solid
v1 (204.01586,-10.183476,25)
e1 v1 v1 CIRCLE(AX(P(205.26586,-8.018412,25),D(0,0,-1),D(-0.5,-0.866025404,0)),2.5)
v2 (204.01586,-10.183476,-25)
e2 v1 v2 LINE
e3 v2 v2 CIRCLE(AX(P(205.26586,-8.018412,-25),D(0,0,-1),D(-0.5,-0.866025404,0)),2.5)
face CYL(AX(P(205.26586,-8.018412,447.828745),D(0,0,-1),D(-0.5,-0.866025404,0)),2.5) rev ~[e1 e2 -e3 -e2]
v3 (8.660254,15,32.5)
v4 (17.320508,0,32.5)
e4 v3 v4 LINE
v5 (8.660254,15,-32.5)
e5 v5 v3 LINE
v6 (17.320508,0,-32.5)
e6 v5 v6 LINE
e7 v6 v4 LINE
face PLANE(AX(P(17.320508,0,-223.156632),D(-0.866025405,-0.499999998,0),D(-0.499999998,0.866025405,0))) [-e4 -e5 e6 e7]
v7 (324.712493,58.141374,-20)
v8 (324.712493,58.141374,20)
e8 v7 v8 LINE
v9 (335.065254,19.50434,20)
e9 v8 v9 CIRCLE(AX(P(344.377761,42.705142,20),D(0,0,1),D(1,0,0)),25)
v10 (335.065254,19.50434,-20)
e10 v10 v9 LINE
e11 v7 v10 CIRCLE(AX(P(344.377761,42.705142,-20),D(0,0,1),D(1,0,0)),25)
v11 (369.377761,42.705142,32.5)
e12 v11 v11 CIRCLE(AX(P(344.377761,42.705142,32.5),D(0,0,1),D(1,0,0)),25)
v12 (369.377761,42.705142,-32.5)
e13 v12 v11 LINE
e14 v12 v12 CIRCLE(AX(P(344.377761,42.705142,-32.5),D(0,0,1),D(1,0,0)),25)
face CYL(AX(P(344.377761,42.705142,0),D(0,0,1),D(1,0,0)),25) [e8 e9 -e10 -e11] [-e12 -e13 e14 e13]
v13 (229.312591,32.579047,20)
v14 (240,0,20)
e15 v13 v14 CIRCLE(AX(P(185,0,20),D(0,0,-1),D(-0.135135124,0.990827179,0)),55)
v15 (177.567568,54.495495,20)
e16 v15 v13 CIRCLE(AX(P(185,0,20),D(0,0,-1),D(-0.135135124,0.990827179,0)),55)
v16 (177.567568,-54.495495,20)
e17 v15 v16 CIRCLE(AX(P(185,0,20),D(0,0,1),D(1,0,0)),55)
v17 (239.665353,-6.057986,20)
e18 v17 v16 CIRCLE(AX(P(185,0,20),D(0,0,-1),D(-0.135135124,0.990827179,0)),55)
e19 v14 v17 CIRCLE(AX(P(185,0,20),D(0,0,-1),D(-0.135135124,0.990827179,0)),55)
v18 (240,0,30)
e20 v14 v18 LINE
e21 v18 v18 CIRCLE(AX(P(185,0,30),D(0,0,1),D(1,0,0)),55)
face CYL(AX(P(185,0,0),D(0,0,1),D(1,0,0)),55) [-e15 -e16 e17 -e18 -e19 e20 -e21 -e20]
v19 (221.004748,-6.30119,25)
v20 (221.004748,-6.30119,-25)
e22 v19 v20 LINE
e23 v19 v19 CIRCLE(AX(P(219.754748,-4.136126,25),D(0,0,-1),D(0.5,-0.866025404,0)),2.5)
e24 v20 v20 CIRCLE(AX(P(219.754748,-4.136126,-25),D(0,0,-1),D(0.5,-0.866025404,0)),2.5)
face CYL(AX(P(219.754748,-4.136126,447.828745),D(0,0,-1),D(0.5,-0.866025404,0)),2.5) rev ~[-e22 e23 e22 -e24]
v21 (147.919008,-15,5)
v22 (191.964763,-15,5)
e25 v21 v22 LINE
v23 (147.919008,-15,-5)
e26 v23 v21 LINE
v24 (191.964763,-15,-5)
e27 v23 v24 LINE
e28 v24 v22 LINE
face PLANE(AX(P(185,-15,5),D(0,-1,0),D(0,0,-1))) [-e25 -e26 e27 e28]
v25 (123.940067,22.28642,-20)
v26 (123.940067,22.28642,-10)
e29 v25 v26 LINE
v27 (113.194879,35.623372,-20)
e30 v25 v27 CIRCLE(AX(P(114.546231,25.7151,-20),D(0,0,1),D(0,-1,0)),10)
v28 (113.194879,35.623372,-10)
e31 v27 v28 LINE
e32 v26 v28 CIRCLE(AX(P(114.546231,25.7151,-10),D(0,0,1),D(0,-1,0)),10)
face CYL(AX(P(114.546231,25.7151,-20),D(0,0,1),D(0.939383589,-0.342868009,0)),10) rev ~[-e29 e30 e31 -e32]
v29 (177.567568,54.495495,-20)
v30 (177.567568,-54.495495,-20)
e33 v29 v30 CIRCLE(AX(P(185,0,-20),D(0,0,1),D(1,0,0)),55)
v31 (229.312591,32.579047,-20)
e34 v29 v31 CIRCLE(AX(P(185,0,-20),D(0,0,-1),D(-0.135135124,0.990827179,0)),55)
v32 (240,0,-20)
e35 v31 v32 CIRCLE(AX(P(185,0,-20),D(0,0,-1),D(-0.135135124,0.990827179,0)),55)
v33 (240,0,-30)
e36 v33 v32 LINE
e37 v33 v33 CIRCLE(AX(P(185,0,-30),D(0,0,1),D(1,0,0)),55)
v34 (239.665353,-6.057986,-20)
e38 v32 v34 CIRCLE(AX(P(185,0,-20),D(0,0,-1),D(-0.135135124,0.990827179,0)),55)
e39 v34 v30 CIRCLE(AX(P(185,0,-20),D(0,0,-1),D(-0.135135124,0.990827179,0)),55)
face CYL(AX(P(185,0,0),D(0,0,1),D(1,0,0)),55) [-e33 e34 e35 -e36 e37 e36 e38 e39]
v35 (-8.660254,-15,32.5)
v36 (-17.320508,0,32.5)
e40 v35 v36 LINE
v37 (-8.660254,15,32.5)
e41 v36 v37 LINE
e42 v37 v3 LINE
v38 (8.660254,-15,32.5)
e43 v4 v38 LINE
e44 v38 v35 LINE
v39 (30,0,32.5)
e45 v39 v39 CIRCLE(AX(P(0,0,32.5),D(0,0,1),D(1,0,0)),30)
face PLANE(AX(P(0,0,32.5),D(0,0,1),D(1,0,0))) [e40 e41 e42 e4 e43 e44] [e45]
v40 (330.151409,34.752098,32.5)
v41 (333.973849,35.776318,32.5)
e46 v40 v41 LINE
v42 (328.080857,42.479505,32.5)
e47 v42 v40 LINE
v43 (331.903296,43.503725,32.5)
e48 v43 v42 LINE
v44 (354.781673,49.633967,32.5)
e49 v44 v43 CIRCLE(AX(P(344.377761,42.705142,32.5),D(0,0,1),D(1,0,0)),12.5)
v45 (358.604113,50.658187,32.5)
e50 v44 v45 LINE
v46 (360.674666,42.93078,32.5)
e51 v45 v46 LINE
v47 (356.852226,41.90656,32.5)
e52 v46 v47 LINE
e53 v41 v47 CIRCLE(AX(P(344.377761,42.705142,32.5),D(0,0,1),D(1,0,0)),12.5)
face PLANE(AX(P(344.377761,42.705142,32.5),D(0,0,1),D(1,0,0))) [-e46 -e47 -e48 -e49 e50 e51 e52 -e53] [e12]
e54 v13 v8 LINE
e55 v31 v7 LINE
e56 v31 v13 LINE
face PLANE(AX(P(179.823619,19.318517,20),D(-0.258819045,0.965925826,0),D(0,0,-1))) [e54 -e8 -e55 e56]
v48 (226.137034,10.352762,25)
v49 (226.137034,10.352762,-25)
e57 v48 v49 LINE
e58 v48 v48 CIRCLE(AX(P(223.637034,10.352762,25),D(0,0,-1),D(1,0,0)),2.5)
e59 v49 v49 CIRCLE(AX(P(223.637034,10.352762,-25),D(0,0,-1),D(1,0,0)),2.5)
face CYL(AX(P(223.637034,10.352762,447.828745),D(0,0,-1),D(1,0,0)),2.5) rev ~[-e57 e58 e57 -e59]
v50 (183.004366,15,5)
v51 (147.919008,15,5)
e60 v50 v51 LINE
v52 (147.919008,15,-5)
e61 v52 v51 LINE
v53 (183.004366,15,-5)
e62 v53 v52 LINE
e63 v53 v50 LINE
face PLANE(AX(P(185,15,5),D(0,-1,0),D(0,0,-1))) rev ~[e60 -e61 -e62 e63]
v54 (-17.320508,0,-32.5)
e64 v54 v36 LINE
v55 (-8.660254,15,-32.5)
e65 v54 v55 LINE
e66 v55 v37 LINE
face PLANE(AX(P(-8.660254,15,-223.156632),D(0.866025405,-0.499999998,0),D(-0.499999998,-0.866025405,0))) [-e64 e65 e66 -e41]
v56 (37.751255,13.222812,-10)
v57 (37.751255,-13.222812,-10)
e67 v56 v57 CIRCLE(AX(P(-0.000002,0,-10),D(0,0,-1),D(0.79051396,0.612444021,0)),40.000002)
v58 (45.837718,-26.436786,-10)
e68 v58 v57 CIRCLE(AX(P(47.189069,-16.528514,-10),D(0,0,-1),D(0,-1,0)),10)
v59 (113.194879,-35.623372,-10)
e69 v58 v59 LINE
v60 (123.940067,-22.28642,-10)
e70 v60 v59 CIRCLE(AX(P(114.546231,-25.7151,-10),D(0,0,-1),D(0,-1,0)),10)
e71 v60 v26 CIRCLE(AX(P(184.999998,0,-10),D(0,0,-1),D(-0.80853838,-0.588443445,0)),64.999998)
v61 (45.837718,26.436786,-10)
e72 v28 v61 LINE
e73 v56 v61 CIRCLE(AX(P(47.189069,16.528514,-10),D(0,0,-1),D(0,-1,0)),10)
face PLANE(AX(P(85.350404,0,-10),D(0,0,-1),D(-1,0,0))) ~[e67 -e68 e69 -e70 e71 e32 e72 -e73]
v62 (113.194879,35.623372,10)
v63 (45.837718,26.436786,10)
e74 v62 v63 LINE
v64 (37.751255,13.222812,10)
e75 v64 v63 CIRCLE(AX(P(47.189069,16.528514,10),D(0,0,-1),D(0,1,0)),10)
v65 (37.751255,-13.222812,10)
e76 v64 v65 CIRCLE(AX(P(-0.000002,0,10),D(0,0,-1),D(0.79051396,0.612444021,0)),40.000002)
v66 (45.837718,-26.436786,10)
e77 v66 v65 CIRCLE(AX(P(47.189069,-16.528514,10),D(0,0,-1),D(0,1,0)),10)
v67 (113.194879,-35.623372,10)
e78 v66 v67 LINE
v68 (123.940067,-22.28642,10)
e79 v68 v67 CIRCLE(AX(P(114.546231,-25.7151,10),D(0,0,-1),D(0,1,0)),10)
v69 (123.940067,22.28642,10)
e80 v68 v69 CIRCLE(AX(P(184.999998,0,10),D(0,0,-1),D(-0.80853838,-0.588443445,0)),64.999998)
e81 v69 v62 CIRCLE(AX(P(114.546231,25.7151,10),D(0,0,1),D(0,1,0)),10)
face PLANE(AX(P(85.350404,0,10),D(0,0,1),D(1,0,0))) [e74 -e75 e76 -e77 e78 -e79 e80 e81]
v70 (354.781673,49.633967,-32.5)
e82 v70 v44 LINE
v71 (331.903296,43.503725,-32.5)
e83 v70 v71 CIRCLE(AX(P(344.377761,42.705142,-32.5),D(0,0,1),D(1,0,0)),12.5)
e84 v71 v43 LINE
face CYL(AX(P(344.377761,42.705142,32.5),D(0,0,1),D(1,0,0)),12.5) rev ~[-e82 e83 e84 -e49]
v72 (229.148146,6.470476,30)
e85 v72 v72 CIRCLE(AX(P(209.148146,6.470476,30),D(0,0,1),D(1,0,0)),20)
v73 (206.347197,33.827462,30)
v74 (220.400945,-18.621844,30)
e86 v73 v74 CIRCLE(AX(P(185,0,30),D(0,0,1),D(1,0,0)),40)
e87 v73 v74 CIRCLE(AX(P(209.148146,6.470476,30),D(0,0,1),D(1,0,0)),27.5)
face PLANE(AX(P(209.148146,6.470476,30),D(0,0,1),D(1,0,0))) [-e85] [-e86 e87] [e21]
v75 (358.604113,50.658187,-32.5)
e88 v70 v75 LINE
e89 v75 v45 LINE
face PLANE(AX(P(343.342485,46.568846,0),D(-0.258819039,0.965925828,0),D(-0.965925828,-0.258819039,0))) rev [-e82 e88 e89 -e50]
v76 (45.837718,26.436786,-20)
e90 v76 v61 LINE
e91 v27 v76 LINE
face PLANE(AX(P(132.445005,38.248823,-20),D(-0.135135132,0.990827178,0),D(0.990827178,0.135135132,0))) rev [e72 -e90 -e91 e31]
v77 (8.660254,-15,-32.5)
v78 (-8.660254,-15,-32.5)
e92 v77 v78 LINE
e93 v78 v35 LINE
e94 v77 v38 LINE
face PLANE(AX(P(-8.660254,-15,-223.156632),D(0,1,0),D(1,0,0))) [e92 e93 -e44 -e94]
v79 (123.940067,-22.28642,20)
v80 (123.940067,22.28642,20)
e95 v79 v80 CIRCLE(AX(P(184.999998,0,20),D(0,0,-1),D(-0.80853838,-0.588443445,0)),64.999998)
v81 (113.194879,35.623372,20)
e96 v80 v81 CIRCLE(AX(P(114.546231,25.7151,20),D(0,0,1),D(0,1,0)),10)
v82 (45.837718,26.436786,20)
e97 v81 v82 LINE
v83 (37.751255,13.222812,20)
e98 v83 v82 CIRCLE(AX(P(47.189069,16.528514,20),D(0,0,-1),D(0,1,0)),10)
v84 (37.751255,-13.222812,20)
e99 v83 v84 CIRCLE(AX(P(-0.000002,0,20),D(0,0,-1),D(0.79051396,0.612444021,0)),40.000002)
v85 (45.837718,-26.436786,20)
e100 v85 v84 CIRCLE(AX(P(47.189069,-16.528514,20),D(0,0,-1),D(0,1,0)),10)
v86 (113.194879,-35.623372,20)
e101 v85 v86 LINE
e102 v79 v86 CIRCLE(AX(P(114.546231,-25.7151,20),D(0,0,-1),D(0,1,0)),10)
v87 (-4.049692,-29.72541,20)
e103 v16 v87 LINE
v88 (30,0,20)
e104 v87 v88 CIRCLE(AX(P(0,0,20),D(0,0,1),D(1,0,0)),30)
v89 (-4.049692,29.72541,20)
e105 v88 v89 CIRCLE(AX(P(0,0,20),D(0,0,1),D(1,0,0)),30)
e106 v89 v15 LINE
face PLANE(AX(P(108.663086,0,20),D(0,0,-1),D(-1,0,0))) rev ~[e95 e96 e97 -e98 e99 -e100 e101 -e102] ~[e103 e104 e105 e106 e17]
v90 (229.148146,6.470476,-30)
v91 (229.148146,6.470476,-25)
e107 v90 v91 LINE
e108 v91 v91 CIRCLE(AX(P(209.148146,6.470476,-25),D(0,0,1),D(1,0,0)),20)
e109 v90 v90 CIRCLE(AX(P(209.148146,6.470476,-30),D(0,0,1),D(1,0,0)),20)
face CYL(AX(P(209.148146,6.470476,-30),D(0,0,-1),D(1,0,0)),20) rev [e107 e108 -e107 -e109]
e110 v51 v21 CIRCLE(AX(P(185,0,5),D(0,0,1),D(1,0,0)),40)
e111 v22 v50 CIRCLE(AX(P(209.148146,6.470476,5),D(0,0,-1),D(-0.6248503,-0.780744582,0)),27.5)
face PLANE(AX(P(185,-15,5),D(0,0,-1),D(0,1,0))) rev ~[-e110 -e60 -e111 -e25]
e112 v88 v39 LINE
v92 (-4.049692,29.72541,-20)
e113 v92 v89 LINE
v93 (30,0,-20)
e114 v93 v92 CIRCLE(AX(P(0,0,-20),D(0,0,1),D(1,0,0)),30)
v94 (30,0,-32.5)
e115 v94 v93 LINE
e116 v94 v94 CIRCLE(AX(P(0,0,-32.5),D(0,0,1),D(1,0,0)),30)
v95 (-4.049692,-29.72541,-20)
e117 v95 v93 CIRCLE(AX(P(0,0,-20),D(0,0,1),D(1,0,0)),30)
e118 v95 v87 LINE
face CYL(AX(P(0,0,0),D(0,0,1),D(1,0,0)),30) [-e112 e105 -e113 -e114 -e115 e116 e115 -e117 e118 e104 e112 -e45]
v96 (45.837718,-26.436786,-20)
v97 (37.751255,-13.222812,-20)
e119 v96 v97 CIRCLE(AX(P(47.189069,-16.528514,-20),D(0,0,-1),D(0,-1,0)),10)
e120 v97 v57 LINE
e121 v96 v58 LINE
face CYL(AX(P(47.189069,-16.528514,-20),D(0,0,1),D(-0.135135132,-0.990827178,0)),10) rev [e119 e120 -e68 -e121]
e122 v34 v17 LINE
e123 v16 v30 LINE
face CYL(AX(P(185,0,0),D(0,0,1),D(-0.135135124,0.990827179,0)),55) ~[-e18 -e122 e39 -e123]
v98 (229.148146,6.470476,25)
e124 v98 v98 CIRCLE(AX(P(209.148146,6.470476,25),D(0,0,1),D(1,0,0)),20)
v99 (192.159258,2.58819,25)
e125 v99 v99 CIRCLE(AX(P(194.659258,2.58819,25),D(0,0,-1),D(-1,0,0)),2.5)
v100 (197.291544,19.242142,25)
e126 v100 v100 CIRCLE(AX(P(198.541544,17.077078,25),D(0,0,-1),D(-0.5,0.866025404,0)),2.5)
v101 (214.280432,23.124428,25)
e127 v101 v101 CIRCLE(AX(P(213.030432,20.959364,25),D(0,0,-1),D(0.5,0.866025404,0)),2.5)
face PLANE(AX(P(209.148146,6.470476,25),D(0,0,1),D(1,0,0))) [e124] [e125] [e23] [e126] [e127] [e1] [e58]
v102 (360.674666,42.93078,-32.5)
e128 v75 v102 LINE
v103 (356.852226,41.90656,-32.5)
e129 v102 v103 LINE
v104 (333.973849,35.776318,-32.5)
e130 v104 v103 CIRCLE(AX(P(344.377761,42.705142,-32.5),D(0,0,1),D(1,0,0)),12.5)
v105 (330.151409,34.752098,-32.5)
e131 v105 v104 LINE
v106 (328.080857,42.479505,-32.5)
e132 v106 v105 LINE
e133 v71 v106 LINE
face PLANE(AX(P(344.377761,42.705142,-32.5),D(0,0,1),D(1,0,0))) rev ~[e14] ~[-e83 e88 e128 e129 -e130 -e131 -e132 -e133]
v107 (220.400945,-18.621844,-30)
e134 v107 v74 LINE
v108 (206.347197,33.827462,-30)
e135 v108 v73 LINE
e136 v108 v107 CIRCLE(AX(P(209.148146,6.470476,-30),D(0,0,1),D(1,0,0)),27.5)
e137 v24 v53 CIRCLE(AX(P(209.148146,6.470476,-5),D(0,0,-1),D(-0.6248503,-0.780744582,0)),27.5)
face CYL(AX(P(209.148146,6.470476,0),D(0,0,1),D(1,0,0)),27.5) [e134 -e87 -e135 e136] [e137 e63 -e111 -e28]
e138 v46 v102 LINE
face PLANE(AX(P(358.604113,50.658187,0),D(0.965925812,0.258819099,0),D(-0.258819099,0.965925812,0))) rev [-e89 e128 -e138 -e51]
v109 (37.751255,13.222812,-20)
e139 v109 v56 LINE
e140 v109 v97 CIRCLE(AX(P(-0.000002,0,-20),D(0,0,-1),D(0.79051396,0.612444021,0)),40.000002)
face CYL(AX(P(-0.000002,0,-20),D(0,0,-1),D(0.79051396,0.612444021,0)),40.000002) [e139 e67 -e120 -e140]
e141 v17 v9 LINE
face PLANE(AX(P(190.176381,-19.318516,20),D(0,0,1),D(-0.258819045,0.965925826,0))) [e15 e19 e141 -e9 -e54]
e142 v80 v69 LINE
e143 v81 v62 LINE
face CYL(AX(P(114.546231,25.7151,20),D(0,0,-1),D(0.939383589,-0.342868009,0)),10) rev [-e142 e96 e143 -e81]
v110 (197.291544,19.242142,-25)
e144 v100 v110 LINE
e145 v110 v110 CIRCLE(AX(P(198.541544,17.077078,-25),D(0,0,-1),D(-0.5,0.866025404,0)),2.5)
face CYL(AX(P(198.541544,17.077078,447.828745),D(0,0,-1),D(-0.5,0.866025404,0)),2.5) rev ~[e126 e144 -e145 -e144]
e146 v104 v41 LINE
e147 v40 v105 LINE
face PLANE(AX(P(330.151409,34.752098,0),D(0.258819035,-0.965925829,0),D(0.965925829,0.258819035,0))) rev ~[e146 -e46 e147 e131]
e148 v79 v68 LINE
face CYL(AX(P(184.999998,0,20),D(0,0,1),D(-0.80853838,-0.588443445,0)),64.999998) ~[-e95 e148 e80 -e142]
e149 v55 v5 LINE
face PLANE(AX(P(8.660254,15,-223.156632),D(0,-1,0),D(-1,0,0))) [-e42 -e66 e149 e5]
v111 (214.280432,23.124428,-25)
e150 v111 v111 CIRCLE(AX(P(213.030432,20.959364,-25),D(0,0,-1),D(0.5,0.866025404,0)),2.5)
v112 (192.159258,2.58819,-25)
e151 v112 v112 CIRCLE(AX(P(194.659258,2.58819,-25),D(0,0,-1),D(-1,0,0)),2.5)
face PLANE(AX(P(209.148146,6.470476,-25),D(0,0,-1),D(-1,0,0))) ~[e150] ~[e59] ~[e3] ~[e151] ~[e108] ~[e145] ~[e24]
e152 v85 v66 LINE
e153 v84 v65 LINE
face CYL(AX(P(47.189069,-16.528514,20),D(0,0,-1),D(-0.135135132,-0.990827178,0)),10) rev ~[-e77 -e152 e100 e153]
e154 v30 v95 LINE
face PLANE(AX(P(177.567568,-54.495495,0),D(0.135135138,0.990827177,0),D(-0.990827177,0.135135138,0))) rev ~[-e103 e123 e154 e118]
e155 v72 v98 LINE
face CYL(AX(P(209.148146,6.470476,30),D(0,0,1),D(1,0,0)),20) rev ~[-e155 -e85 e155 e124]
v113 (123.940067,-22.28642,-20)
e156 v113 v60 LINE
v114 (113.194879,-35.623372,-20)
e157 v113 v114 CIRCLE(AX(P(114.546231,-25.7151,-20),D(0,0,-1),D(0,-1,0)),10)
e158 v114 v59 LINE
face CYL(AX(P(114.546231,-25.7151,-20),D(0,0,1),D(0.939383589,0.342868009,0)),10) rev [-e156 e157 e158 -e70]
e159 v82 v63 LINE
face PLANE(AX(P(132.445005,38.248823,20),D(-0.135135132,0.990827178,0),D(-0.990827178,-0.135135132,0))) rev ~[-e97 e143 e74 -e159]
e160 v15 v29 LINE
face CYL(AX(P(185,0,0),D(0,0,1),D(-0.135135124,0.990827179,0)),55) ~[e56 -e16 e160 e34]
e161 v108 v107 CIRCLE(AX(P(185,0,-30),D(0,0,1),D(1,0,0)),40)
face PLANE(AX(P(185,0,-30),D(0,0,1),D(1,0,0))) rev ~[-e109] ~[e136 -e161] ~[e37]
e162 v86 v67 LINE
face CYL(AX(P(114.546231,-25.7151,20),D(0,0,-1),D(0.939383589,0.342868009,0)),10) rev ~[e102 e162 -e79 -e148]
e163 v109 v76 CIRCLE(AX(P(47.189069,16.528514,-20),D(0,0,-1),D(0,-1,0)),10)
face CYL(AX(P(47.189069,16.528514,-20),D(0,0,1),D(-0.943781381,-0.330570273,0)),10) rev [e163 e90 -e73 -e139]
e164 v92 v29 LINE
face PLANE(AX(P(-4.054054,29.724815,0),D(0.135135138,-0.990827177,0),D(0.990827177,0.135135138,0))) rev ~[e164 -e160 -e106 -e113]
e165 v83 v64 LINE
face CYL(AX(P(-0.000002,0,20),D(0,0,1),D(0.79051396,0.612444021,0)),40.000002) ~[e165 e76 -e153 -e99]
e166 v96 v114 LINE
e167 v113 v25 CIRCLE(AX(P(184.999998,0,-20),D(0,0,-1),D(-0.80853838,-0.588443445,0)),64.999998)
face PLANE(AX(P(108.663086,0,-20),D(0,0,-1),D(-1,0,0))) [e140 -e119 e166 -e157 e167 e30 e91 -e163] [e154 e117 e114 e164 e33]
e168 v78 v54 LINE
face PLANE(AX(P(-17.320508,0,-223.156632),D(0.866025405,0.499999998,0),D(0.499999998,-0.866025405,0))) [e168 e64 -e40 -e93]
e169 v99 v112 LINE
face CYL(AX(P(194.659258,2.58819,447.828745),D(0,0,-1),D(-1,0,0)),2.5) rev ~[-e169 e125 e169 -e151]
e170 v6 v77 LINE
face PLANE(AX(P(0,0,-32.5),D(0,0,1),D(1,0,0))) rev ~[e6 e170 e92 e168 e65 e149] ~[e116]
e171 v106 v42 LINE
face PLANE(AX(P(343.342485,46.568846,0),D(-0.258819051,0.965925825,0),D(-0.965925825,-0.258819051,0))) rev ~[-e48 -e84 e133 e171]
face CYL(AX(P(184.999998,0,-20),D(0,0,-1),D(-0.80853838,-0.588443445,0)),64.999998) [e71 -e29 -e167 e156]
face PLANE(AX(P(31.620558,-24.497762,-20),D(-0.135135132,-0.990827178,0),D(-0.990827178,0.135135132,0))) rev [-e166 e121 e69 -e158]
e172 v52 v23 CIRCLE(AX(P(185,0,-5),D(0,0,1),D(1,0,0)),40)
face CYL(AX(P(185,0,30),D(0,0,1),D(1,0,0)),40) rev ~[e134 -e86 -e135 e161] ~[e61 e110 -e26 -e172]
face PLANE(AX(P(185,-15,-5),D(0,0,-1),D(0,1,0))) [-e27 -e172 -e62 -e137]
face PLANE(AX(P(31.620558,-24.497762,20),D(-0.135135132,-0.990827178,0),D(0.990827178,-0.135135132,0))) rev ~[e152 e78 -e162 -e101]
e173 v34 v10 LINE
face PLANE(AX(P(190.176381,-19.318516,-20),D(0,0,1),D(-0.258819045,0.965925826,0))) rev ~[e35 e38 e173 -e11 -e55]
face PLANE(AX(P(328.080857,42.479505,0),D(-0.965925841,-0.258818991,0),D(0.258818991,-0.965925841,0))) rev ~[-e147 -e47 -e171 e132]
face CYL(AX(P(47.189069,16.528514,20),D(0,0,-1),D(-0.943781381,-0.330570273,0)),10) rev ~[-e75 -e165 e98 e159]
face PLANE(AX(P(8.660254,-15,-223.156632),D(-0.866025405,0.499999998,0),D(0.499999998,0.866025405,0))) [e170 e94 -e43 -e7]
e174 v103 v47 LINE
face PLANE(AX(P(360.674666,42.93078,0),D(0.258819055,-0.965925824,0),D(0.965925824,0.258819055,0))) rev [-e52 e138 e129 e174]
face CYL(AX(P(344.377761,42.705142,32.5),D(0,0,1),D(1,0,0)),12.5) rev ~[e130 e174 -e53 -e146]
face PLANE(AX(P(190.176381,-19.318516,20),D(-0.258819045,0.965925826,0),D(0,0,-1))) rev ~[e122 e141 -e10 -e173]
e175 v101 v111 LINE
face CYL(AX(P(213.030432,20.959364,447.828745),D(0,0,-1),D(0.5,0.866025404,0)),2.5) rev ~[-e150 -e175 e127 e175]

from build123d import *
from build123d.topology import SkipClean

# Parameters (mm, degrees)
LEFT_ARM_DEPTH                = 20
SKETCH2_R                     = 30
LEFT_BOSS_DEPTH               = 32.5
LEFT_HEX_DEPTH                = 255.656632
LEFT_HEX_DEPTH_BACK           = 255.656632
SKETCH3_R                     = 55
CENTRE_BOSS_DEPTH             = 30
SKETCH5_W                     = 40
SKETCH5_H                     = 40
RIGHT_ARM_DEPTH               = 165
SKETCH7_R                     = 25
RIGHT_BOSS_DEPTH              = 32.5
SKETCH8_R                     = 12.5
RIGHT_BOSS_HOLE_DEPTH         = 382.115359
SKETCH9_R                     = 40
CENTRE_HOLE_DEPTH             = 381.696949
SKETCH10_R                    = 27.5
CENTRE_BLOB_DEPTH             = 30
CENTRE_BEAM_REACH             = 229.739
SKETCH11_W                    = 10
SKETCH11_H                    = 30
CENTRE_BEAM_DIRECTION_2_REACH = 229.739
SKETCH12_R                    = 20
CUT_EXTRUDE4_DEPTH            = 5
M6X1_0_TAPPED_HOLE1_D         = 5
CIRPATTERN1_COUNT             = 6
CUT_OUT_DEPTH                 = 10
FILLET1_R                     = 10
FILLET1_OF_MIRROR2_R          = 10
KEYWAY_DEPTH                  = 377.935229


with BuildPart() as part:
    # Sketch1 → LEFT_ARM (new, symmetric)
    with BuildSketch(Plane.XY):
        with BuildLine():
            Line((-4.054054, 29.724815), (177.567568, 54.495495))
            ThreePointArc((177.567568, 54.495495), (240, 0), (177.567568, -54.495495))
            Line((177.567568, -54.495495), (-4.054054, -29.724815))
            ThreePointArc((-4.054054, -29.724815), (-30, 0), (-4.054054, 29.724815))
        make_face()
    extrude(amount=LEFT_ARM_DEPTH, both=True)

    # Sketch2 → LEFT_Boss (add, symmetric)
    with SkipClean():  # the faces are left unmerged after this step: merging them gives an invalid solid
        with BuildSketch(Plane.XY):
            Circle(SKETCH2_R)
        extrude(amount=LEFT_BOSS_DEPTH, both=True)

    # Sketch4 → LEFT_Hex (cut, two sides: drawn at the far end of the back side and taken through both)
    with SkipClean():  # the faces are left unmerged after this step: merging them gives an invalid solid
        with BuildSketch(Plane.XY.offset(32.5).offset(-LEFT_HEX_DEPTH_BACK)):
            Polygon((17.320508, 0), (8.660254, 15), (-8.660254, 15), (-17.320508, 0), (-8.660254, -15), (8.660254, -15), align=None)
        extrude(amount=LEFT_HEX_DEPTH + LEFT_HEX_DEPTH_BACK, mode=Mode.SUBTRACT)

    # Sketch3 → CENTRE_Boss (add, symmetric)
    with BuildSketch(Plane.XY):
        with Locations((185, 0)):
            Circle(SKETCH3_R)
    extrude(amount=CENTRE_BOSS_DEPTH, both=True)

    # Sketch5 → RIGHT_ARM (add)
    with BuildSketch(Plane(origin=(172.60735, 46.25, 0), x_dir=(0, 0, -1), z_dir=(0.9659258262890681, 0.25881904510252135, 0))):
        with Locations((0, -47.881523)):
            Rectangle(SKETCH5_W, SKETCH5_H)
    extrude(amount=RIGHT_ARM_DEPTH)

    # Sketch7 → RIGHT_Boss (add, symmetric)
    with BuildSketch(Plane.XY):
        with Locations((344.377761, 42.705142)):
            Circle(SKETCH7_R)
    extrude(amount=RIGHT_BOSS_DEPTH, both=True)

    # Sketch8 → RIGHT_Boss_Hole (cut, through all)
    with BuildSketch(Plane.XY.offset(32.5)):
        with Locations((344.377761, 42.705142)):
            Circle(SKETCH8_R)
    extrude(amount=-RIGHT_BOSS_HOLE_DEPTH, mode=Mode.SUBTRACT)

    # Sketch9 → CENTRE_Hole (cut, through all)
    with BuildSketch(Plane.XY.offset(30)):
        with Locations((185, 0)):
            Circle(SKETCH9_R)
    extrude(amount=-CENTRE_HOLE_DEPTH, mode=Mode.SUBTRACT)

    # Sketch10 → CENTRE_Blob (add, symmetric)
    with BuildSketch(Plane.XY):
        with Locations((209.148146, 6.470476)):
            Circle(SKETCH10_R)
    extrude(amount=CENTRE_BLOB_DEPTH, both=True)

    # Sketch11 → CENTRE_Beam (add, up to next)
    with BuildSketch(Plane(origin=(185, 0, 0), x_dir=(0, 0, -1), z_dir=(1, 0, 0)), mode=Mode.PRIVATE) as centre_beam_sk1:
        Rectangle(SKETCH11_W, SKETCH11_H)
    centre_beam_tool1 = extrude(centre_beam_sk1.sketch, amount=CENTRE_BEAM_REACH, mode=Mode.PRIVATE) - part.part
    add(centre_beam_tool1.solids().sort_by_distance((185, 0, 0))[0])

    # Sketch11 → CENTRE_Beam direction 2 (add, up to next)
    with BuildSketch(Plane(origin=(185, 0, 0), x_dir=(0, 0, -1), z_dir=(1, 0, 0)), mode=Mode.PRIVATE) as centre_beam_direction_2_sk1:
        Rectangle(SKETCH11_W, SKETCH11_H)
    centre_beam_direction_2_tool1 = extrude(centre_beam_direction_2_sk1.sketch, amount=-CENTRE_BEAM_DIRECTION_2_REACH, mode=Mode.PRIVATE) - part.part
    add(centre_beam_direction_2_tool1.solids().sort_by_distance((185, 0, 0))[0])

    # Sketch12 → Cut-Extrude4 (cut)
    with BuildSketch(Plane.XY.offset(30)):
        with Locations((209.148146, 6.470476)):
            Circle(SKETCH12_R)
    cut_extrude4 = extrude(amount=-CUT_EXTRUDE4_DEPTH, mode=Mode.SUBTRACT)

    # M6x1.0 Tapped Hole1 (through all)
    with Locations(Plane.XY.offset(25)):
        with Locations((194.659258, 2.58819)):
            m6x1_0_tapped_hole1 = Hole(M6X1_0_TAPPED_HOLE1_D / 2)

    # CirPattern1: M6x1.0 Tapped Hole1 ×6 about axis
    cirpattern1_axis = Axis((209.148146, 6.470476, 0), (0, 0, 1))
    for i in range(1, CIRPATTERN1_COUNT):
        add(m6x1_0_tapped_hole1.rotate(cirpattern1_axis, i * 360 / CIRPATTERN1_COUNT), mode=Mode.SUBTRACT)

    # Mirror1: Cut-Extrude4 across plane
    add(cut_extrude4.mirror(Plane.XY), mode=Mode.SUBTRACT)

    # Sketch15 → Cut_OUT (cut)
    with BuildSketch(Plane.XY.offset(20)):
        with BuildLine():
            Line((132.445005, 38.248823), (31.620558, 24.497762))
            ThreePointArc((31.620558, 24.497762), (40, 0), (31.620558, -24.497762))
            Line((31.620558, -24.497762), (132.445005, -38.248823))
            ThreePointArc((132.445005, -38.248823), (120, 0), (132.445005, 38.248823))
        make_face()
    cut_out = extrude(amount=-CUT_OUT_DEPTH, mode=Mode.SUBTRACT)

    # Fillet1
    fillet1_edges = [part.edges().sort_by_distance(p)[0] for p in [
        (31.620558, -24.497762, 15),
        (31.620558, 24.497762, 15),
        (132.445005, 38.248823, 15),
        (132.445005, -38.248823, 15),
    ]]
    fillet(fillet1_edges, radius=FILLET1_R)

    # Mirror2: Cut_OUT across plane
    with SkipClean():  # the faces are left unmerged after this step: merging them gives an invalid solid
        add(cut_out.mirror(Plane.XY), mode=Mode.SUBTRACT)

    # Fillet1 of Mirror2
    fillet1_of_mirror2_edges = [part.edges().sort_by_distance(p)[0] for p in [
        (31.620558, -24.497762, -15),
        (31.620558, 24.497762, -15),
        (132.445005, 38.248823, -15),
        (132.445005, -38.248823, -15),
    ]]
    fillet(fillet1_of_mirror2_edges, radius=FILLET1_OF_MIRROR2_R)

    # Sketch16 → KEYWAY (cut, symmetric)
    with SkipClean():  # the faces are left unmerged after this step: merging them gives an invalid solid
        with BuildSketch(Plane.XY):
            Polygon((345.413038, 38.841439), (343.342485, 46.568846), (328.080857, 42.479505), (330.151409, 34.752098), align=None)
        keyway = extrude(amount=KEYWAY_DEPTH, both=True, mode=Mode.SUBTRACT)

    # Mirror3: KEYWAY across plane
    with SkipClean():  # the faces are left unmerged after this step: merging them gives an invalid solid
        add(keyway.mirror(Plane(origin=(331.985111, 88.955142, 0), x_dir=(0, 0, 1), z_dir=(0.9659258262890681, 0.25881904510252135, 0))), mode=Mode.SUBTRACT)


solid = part.part
